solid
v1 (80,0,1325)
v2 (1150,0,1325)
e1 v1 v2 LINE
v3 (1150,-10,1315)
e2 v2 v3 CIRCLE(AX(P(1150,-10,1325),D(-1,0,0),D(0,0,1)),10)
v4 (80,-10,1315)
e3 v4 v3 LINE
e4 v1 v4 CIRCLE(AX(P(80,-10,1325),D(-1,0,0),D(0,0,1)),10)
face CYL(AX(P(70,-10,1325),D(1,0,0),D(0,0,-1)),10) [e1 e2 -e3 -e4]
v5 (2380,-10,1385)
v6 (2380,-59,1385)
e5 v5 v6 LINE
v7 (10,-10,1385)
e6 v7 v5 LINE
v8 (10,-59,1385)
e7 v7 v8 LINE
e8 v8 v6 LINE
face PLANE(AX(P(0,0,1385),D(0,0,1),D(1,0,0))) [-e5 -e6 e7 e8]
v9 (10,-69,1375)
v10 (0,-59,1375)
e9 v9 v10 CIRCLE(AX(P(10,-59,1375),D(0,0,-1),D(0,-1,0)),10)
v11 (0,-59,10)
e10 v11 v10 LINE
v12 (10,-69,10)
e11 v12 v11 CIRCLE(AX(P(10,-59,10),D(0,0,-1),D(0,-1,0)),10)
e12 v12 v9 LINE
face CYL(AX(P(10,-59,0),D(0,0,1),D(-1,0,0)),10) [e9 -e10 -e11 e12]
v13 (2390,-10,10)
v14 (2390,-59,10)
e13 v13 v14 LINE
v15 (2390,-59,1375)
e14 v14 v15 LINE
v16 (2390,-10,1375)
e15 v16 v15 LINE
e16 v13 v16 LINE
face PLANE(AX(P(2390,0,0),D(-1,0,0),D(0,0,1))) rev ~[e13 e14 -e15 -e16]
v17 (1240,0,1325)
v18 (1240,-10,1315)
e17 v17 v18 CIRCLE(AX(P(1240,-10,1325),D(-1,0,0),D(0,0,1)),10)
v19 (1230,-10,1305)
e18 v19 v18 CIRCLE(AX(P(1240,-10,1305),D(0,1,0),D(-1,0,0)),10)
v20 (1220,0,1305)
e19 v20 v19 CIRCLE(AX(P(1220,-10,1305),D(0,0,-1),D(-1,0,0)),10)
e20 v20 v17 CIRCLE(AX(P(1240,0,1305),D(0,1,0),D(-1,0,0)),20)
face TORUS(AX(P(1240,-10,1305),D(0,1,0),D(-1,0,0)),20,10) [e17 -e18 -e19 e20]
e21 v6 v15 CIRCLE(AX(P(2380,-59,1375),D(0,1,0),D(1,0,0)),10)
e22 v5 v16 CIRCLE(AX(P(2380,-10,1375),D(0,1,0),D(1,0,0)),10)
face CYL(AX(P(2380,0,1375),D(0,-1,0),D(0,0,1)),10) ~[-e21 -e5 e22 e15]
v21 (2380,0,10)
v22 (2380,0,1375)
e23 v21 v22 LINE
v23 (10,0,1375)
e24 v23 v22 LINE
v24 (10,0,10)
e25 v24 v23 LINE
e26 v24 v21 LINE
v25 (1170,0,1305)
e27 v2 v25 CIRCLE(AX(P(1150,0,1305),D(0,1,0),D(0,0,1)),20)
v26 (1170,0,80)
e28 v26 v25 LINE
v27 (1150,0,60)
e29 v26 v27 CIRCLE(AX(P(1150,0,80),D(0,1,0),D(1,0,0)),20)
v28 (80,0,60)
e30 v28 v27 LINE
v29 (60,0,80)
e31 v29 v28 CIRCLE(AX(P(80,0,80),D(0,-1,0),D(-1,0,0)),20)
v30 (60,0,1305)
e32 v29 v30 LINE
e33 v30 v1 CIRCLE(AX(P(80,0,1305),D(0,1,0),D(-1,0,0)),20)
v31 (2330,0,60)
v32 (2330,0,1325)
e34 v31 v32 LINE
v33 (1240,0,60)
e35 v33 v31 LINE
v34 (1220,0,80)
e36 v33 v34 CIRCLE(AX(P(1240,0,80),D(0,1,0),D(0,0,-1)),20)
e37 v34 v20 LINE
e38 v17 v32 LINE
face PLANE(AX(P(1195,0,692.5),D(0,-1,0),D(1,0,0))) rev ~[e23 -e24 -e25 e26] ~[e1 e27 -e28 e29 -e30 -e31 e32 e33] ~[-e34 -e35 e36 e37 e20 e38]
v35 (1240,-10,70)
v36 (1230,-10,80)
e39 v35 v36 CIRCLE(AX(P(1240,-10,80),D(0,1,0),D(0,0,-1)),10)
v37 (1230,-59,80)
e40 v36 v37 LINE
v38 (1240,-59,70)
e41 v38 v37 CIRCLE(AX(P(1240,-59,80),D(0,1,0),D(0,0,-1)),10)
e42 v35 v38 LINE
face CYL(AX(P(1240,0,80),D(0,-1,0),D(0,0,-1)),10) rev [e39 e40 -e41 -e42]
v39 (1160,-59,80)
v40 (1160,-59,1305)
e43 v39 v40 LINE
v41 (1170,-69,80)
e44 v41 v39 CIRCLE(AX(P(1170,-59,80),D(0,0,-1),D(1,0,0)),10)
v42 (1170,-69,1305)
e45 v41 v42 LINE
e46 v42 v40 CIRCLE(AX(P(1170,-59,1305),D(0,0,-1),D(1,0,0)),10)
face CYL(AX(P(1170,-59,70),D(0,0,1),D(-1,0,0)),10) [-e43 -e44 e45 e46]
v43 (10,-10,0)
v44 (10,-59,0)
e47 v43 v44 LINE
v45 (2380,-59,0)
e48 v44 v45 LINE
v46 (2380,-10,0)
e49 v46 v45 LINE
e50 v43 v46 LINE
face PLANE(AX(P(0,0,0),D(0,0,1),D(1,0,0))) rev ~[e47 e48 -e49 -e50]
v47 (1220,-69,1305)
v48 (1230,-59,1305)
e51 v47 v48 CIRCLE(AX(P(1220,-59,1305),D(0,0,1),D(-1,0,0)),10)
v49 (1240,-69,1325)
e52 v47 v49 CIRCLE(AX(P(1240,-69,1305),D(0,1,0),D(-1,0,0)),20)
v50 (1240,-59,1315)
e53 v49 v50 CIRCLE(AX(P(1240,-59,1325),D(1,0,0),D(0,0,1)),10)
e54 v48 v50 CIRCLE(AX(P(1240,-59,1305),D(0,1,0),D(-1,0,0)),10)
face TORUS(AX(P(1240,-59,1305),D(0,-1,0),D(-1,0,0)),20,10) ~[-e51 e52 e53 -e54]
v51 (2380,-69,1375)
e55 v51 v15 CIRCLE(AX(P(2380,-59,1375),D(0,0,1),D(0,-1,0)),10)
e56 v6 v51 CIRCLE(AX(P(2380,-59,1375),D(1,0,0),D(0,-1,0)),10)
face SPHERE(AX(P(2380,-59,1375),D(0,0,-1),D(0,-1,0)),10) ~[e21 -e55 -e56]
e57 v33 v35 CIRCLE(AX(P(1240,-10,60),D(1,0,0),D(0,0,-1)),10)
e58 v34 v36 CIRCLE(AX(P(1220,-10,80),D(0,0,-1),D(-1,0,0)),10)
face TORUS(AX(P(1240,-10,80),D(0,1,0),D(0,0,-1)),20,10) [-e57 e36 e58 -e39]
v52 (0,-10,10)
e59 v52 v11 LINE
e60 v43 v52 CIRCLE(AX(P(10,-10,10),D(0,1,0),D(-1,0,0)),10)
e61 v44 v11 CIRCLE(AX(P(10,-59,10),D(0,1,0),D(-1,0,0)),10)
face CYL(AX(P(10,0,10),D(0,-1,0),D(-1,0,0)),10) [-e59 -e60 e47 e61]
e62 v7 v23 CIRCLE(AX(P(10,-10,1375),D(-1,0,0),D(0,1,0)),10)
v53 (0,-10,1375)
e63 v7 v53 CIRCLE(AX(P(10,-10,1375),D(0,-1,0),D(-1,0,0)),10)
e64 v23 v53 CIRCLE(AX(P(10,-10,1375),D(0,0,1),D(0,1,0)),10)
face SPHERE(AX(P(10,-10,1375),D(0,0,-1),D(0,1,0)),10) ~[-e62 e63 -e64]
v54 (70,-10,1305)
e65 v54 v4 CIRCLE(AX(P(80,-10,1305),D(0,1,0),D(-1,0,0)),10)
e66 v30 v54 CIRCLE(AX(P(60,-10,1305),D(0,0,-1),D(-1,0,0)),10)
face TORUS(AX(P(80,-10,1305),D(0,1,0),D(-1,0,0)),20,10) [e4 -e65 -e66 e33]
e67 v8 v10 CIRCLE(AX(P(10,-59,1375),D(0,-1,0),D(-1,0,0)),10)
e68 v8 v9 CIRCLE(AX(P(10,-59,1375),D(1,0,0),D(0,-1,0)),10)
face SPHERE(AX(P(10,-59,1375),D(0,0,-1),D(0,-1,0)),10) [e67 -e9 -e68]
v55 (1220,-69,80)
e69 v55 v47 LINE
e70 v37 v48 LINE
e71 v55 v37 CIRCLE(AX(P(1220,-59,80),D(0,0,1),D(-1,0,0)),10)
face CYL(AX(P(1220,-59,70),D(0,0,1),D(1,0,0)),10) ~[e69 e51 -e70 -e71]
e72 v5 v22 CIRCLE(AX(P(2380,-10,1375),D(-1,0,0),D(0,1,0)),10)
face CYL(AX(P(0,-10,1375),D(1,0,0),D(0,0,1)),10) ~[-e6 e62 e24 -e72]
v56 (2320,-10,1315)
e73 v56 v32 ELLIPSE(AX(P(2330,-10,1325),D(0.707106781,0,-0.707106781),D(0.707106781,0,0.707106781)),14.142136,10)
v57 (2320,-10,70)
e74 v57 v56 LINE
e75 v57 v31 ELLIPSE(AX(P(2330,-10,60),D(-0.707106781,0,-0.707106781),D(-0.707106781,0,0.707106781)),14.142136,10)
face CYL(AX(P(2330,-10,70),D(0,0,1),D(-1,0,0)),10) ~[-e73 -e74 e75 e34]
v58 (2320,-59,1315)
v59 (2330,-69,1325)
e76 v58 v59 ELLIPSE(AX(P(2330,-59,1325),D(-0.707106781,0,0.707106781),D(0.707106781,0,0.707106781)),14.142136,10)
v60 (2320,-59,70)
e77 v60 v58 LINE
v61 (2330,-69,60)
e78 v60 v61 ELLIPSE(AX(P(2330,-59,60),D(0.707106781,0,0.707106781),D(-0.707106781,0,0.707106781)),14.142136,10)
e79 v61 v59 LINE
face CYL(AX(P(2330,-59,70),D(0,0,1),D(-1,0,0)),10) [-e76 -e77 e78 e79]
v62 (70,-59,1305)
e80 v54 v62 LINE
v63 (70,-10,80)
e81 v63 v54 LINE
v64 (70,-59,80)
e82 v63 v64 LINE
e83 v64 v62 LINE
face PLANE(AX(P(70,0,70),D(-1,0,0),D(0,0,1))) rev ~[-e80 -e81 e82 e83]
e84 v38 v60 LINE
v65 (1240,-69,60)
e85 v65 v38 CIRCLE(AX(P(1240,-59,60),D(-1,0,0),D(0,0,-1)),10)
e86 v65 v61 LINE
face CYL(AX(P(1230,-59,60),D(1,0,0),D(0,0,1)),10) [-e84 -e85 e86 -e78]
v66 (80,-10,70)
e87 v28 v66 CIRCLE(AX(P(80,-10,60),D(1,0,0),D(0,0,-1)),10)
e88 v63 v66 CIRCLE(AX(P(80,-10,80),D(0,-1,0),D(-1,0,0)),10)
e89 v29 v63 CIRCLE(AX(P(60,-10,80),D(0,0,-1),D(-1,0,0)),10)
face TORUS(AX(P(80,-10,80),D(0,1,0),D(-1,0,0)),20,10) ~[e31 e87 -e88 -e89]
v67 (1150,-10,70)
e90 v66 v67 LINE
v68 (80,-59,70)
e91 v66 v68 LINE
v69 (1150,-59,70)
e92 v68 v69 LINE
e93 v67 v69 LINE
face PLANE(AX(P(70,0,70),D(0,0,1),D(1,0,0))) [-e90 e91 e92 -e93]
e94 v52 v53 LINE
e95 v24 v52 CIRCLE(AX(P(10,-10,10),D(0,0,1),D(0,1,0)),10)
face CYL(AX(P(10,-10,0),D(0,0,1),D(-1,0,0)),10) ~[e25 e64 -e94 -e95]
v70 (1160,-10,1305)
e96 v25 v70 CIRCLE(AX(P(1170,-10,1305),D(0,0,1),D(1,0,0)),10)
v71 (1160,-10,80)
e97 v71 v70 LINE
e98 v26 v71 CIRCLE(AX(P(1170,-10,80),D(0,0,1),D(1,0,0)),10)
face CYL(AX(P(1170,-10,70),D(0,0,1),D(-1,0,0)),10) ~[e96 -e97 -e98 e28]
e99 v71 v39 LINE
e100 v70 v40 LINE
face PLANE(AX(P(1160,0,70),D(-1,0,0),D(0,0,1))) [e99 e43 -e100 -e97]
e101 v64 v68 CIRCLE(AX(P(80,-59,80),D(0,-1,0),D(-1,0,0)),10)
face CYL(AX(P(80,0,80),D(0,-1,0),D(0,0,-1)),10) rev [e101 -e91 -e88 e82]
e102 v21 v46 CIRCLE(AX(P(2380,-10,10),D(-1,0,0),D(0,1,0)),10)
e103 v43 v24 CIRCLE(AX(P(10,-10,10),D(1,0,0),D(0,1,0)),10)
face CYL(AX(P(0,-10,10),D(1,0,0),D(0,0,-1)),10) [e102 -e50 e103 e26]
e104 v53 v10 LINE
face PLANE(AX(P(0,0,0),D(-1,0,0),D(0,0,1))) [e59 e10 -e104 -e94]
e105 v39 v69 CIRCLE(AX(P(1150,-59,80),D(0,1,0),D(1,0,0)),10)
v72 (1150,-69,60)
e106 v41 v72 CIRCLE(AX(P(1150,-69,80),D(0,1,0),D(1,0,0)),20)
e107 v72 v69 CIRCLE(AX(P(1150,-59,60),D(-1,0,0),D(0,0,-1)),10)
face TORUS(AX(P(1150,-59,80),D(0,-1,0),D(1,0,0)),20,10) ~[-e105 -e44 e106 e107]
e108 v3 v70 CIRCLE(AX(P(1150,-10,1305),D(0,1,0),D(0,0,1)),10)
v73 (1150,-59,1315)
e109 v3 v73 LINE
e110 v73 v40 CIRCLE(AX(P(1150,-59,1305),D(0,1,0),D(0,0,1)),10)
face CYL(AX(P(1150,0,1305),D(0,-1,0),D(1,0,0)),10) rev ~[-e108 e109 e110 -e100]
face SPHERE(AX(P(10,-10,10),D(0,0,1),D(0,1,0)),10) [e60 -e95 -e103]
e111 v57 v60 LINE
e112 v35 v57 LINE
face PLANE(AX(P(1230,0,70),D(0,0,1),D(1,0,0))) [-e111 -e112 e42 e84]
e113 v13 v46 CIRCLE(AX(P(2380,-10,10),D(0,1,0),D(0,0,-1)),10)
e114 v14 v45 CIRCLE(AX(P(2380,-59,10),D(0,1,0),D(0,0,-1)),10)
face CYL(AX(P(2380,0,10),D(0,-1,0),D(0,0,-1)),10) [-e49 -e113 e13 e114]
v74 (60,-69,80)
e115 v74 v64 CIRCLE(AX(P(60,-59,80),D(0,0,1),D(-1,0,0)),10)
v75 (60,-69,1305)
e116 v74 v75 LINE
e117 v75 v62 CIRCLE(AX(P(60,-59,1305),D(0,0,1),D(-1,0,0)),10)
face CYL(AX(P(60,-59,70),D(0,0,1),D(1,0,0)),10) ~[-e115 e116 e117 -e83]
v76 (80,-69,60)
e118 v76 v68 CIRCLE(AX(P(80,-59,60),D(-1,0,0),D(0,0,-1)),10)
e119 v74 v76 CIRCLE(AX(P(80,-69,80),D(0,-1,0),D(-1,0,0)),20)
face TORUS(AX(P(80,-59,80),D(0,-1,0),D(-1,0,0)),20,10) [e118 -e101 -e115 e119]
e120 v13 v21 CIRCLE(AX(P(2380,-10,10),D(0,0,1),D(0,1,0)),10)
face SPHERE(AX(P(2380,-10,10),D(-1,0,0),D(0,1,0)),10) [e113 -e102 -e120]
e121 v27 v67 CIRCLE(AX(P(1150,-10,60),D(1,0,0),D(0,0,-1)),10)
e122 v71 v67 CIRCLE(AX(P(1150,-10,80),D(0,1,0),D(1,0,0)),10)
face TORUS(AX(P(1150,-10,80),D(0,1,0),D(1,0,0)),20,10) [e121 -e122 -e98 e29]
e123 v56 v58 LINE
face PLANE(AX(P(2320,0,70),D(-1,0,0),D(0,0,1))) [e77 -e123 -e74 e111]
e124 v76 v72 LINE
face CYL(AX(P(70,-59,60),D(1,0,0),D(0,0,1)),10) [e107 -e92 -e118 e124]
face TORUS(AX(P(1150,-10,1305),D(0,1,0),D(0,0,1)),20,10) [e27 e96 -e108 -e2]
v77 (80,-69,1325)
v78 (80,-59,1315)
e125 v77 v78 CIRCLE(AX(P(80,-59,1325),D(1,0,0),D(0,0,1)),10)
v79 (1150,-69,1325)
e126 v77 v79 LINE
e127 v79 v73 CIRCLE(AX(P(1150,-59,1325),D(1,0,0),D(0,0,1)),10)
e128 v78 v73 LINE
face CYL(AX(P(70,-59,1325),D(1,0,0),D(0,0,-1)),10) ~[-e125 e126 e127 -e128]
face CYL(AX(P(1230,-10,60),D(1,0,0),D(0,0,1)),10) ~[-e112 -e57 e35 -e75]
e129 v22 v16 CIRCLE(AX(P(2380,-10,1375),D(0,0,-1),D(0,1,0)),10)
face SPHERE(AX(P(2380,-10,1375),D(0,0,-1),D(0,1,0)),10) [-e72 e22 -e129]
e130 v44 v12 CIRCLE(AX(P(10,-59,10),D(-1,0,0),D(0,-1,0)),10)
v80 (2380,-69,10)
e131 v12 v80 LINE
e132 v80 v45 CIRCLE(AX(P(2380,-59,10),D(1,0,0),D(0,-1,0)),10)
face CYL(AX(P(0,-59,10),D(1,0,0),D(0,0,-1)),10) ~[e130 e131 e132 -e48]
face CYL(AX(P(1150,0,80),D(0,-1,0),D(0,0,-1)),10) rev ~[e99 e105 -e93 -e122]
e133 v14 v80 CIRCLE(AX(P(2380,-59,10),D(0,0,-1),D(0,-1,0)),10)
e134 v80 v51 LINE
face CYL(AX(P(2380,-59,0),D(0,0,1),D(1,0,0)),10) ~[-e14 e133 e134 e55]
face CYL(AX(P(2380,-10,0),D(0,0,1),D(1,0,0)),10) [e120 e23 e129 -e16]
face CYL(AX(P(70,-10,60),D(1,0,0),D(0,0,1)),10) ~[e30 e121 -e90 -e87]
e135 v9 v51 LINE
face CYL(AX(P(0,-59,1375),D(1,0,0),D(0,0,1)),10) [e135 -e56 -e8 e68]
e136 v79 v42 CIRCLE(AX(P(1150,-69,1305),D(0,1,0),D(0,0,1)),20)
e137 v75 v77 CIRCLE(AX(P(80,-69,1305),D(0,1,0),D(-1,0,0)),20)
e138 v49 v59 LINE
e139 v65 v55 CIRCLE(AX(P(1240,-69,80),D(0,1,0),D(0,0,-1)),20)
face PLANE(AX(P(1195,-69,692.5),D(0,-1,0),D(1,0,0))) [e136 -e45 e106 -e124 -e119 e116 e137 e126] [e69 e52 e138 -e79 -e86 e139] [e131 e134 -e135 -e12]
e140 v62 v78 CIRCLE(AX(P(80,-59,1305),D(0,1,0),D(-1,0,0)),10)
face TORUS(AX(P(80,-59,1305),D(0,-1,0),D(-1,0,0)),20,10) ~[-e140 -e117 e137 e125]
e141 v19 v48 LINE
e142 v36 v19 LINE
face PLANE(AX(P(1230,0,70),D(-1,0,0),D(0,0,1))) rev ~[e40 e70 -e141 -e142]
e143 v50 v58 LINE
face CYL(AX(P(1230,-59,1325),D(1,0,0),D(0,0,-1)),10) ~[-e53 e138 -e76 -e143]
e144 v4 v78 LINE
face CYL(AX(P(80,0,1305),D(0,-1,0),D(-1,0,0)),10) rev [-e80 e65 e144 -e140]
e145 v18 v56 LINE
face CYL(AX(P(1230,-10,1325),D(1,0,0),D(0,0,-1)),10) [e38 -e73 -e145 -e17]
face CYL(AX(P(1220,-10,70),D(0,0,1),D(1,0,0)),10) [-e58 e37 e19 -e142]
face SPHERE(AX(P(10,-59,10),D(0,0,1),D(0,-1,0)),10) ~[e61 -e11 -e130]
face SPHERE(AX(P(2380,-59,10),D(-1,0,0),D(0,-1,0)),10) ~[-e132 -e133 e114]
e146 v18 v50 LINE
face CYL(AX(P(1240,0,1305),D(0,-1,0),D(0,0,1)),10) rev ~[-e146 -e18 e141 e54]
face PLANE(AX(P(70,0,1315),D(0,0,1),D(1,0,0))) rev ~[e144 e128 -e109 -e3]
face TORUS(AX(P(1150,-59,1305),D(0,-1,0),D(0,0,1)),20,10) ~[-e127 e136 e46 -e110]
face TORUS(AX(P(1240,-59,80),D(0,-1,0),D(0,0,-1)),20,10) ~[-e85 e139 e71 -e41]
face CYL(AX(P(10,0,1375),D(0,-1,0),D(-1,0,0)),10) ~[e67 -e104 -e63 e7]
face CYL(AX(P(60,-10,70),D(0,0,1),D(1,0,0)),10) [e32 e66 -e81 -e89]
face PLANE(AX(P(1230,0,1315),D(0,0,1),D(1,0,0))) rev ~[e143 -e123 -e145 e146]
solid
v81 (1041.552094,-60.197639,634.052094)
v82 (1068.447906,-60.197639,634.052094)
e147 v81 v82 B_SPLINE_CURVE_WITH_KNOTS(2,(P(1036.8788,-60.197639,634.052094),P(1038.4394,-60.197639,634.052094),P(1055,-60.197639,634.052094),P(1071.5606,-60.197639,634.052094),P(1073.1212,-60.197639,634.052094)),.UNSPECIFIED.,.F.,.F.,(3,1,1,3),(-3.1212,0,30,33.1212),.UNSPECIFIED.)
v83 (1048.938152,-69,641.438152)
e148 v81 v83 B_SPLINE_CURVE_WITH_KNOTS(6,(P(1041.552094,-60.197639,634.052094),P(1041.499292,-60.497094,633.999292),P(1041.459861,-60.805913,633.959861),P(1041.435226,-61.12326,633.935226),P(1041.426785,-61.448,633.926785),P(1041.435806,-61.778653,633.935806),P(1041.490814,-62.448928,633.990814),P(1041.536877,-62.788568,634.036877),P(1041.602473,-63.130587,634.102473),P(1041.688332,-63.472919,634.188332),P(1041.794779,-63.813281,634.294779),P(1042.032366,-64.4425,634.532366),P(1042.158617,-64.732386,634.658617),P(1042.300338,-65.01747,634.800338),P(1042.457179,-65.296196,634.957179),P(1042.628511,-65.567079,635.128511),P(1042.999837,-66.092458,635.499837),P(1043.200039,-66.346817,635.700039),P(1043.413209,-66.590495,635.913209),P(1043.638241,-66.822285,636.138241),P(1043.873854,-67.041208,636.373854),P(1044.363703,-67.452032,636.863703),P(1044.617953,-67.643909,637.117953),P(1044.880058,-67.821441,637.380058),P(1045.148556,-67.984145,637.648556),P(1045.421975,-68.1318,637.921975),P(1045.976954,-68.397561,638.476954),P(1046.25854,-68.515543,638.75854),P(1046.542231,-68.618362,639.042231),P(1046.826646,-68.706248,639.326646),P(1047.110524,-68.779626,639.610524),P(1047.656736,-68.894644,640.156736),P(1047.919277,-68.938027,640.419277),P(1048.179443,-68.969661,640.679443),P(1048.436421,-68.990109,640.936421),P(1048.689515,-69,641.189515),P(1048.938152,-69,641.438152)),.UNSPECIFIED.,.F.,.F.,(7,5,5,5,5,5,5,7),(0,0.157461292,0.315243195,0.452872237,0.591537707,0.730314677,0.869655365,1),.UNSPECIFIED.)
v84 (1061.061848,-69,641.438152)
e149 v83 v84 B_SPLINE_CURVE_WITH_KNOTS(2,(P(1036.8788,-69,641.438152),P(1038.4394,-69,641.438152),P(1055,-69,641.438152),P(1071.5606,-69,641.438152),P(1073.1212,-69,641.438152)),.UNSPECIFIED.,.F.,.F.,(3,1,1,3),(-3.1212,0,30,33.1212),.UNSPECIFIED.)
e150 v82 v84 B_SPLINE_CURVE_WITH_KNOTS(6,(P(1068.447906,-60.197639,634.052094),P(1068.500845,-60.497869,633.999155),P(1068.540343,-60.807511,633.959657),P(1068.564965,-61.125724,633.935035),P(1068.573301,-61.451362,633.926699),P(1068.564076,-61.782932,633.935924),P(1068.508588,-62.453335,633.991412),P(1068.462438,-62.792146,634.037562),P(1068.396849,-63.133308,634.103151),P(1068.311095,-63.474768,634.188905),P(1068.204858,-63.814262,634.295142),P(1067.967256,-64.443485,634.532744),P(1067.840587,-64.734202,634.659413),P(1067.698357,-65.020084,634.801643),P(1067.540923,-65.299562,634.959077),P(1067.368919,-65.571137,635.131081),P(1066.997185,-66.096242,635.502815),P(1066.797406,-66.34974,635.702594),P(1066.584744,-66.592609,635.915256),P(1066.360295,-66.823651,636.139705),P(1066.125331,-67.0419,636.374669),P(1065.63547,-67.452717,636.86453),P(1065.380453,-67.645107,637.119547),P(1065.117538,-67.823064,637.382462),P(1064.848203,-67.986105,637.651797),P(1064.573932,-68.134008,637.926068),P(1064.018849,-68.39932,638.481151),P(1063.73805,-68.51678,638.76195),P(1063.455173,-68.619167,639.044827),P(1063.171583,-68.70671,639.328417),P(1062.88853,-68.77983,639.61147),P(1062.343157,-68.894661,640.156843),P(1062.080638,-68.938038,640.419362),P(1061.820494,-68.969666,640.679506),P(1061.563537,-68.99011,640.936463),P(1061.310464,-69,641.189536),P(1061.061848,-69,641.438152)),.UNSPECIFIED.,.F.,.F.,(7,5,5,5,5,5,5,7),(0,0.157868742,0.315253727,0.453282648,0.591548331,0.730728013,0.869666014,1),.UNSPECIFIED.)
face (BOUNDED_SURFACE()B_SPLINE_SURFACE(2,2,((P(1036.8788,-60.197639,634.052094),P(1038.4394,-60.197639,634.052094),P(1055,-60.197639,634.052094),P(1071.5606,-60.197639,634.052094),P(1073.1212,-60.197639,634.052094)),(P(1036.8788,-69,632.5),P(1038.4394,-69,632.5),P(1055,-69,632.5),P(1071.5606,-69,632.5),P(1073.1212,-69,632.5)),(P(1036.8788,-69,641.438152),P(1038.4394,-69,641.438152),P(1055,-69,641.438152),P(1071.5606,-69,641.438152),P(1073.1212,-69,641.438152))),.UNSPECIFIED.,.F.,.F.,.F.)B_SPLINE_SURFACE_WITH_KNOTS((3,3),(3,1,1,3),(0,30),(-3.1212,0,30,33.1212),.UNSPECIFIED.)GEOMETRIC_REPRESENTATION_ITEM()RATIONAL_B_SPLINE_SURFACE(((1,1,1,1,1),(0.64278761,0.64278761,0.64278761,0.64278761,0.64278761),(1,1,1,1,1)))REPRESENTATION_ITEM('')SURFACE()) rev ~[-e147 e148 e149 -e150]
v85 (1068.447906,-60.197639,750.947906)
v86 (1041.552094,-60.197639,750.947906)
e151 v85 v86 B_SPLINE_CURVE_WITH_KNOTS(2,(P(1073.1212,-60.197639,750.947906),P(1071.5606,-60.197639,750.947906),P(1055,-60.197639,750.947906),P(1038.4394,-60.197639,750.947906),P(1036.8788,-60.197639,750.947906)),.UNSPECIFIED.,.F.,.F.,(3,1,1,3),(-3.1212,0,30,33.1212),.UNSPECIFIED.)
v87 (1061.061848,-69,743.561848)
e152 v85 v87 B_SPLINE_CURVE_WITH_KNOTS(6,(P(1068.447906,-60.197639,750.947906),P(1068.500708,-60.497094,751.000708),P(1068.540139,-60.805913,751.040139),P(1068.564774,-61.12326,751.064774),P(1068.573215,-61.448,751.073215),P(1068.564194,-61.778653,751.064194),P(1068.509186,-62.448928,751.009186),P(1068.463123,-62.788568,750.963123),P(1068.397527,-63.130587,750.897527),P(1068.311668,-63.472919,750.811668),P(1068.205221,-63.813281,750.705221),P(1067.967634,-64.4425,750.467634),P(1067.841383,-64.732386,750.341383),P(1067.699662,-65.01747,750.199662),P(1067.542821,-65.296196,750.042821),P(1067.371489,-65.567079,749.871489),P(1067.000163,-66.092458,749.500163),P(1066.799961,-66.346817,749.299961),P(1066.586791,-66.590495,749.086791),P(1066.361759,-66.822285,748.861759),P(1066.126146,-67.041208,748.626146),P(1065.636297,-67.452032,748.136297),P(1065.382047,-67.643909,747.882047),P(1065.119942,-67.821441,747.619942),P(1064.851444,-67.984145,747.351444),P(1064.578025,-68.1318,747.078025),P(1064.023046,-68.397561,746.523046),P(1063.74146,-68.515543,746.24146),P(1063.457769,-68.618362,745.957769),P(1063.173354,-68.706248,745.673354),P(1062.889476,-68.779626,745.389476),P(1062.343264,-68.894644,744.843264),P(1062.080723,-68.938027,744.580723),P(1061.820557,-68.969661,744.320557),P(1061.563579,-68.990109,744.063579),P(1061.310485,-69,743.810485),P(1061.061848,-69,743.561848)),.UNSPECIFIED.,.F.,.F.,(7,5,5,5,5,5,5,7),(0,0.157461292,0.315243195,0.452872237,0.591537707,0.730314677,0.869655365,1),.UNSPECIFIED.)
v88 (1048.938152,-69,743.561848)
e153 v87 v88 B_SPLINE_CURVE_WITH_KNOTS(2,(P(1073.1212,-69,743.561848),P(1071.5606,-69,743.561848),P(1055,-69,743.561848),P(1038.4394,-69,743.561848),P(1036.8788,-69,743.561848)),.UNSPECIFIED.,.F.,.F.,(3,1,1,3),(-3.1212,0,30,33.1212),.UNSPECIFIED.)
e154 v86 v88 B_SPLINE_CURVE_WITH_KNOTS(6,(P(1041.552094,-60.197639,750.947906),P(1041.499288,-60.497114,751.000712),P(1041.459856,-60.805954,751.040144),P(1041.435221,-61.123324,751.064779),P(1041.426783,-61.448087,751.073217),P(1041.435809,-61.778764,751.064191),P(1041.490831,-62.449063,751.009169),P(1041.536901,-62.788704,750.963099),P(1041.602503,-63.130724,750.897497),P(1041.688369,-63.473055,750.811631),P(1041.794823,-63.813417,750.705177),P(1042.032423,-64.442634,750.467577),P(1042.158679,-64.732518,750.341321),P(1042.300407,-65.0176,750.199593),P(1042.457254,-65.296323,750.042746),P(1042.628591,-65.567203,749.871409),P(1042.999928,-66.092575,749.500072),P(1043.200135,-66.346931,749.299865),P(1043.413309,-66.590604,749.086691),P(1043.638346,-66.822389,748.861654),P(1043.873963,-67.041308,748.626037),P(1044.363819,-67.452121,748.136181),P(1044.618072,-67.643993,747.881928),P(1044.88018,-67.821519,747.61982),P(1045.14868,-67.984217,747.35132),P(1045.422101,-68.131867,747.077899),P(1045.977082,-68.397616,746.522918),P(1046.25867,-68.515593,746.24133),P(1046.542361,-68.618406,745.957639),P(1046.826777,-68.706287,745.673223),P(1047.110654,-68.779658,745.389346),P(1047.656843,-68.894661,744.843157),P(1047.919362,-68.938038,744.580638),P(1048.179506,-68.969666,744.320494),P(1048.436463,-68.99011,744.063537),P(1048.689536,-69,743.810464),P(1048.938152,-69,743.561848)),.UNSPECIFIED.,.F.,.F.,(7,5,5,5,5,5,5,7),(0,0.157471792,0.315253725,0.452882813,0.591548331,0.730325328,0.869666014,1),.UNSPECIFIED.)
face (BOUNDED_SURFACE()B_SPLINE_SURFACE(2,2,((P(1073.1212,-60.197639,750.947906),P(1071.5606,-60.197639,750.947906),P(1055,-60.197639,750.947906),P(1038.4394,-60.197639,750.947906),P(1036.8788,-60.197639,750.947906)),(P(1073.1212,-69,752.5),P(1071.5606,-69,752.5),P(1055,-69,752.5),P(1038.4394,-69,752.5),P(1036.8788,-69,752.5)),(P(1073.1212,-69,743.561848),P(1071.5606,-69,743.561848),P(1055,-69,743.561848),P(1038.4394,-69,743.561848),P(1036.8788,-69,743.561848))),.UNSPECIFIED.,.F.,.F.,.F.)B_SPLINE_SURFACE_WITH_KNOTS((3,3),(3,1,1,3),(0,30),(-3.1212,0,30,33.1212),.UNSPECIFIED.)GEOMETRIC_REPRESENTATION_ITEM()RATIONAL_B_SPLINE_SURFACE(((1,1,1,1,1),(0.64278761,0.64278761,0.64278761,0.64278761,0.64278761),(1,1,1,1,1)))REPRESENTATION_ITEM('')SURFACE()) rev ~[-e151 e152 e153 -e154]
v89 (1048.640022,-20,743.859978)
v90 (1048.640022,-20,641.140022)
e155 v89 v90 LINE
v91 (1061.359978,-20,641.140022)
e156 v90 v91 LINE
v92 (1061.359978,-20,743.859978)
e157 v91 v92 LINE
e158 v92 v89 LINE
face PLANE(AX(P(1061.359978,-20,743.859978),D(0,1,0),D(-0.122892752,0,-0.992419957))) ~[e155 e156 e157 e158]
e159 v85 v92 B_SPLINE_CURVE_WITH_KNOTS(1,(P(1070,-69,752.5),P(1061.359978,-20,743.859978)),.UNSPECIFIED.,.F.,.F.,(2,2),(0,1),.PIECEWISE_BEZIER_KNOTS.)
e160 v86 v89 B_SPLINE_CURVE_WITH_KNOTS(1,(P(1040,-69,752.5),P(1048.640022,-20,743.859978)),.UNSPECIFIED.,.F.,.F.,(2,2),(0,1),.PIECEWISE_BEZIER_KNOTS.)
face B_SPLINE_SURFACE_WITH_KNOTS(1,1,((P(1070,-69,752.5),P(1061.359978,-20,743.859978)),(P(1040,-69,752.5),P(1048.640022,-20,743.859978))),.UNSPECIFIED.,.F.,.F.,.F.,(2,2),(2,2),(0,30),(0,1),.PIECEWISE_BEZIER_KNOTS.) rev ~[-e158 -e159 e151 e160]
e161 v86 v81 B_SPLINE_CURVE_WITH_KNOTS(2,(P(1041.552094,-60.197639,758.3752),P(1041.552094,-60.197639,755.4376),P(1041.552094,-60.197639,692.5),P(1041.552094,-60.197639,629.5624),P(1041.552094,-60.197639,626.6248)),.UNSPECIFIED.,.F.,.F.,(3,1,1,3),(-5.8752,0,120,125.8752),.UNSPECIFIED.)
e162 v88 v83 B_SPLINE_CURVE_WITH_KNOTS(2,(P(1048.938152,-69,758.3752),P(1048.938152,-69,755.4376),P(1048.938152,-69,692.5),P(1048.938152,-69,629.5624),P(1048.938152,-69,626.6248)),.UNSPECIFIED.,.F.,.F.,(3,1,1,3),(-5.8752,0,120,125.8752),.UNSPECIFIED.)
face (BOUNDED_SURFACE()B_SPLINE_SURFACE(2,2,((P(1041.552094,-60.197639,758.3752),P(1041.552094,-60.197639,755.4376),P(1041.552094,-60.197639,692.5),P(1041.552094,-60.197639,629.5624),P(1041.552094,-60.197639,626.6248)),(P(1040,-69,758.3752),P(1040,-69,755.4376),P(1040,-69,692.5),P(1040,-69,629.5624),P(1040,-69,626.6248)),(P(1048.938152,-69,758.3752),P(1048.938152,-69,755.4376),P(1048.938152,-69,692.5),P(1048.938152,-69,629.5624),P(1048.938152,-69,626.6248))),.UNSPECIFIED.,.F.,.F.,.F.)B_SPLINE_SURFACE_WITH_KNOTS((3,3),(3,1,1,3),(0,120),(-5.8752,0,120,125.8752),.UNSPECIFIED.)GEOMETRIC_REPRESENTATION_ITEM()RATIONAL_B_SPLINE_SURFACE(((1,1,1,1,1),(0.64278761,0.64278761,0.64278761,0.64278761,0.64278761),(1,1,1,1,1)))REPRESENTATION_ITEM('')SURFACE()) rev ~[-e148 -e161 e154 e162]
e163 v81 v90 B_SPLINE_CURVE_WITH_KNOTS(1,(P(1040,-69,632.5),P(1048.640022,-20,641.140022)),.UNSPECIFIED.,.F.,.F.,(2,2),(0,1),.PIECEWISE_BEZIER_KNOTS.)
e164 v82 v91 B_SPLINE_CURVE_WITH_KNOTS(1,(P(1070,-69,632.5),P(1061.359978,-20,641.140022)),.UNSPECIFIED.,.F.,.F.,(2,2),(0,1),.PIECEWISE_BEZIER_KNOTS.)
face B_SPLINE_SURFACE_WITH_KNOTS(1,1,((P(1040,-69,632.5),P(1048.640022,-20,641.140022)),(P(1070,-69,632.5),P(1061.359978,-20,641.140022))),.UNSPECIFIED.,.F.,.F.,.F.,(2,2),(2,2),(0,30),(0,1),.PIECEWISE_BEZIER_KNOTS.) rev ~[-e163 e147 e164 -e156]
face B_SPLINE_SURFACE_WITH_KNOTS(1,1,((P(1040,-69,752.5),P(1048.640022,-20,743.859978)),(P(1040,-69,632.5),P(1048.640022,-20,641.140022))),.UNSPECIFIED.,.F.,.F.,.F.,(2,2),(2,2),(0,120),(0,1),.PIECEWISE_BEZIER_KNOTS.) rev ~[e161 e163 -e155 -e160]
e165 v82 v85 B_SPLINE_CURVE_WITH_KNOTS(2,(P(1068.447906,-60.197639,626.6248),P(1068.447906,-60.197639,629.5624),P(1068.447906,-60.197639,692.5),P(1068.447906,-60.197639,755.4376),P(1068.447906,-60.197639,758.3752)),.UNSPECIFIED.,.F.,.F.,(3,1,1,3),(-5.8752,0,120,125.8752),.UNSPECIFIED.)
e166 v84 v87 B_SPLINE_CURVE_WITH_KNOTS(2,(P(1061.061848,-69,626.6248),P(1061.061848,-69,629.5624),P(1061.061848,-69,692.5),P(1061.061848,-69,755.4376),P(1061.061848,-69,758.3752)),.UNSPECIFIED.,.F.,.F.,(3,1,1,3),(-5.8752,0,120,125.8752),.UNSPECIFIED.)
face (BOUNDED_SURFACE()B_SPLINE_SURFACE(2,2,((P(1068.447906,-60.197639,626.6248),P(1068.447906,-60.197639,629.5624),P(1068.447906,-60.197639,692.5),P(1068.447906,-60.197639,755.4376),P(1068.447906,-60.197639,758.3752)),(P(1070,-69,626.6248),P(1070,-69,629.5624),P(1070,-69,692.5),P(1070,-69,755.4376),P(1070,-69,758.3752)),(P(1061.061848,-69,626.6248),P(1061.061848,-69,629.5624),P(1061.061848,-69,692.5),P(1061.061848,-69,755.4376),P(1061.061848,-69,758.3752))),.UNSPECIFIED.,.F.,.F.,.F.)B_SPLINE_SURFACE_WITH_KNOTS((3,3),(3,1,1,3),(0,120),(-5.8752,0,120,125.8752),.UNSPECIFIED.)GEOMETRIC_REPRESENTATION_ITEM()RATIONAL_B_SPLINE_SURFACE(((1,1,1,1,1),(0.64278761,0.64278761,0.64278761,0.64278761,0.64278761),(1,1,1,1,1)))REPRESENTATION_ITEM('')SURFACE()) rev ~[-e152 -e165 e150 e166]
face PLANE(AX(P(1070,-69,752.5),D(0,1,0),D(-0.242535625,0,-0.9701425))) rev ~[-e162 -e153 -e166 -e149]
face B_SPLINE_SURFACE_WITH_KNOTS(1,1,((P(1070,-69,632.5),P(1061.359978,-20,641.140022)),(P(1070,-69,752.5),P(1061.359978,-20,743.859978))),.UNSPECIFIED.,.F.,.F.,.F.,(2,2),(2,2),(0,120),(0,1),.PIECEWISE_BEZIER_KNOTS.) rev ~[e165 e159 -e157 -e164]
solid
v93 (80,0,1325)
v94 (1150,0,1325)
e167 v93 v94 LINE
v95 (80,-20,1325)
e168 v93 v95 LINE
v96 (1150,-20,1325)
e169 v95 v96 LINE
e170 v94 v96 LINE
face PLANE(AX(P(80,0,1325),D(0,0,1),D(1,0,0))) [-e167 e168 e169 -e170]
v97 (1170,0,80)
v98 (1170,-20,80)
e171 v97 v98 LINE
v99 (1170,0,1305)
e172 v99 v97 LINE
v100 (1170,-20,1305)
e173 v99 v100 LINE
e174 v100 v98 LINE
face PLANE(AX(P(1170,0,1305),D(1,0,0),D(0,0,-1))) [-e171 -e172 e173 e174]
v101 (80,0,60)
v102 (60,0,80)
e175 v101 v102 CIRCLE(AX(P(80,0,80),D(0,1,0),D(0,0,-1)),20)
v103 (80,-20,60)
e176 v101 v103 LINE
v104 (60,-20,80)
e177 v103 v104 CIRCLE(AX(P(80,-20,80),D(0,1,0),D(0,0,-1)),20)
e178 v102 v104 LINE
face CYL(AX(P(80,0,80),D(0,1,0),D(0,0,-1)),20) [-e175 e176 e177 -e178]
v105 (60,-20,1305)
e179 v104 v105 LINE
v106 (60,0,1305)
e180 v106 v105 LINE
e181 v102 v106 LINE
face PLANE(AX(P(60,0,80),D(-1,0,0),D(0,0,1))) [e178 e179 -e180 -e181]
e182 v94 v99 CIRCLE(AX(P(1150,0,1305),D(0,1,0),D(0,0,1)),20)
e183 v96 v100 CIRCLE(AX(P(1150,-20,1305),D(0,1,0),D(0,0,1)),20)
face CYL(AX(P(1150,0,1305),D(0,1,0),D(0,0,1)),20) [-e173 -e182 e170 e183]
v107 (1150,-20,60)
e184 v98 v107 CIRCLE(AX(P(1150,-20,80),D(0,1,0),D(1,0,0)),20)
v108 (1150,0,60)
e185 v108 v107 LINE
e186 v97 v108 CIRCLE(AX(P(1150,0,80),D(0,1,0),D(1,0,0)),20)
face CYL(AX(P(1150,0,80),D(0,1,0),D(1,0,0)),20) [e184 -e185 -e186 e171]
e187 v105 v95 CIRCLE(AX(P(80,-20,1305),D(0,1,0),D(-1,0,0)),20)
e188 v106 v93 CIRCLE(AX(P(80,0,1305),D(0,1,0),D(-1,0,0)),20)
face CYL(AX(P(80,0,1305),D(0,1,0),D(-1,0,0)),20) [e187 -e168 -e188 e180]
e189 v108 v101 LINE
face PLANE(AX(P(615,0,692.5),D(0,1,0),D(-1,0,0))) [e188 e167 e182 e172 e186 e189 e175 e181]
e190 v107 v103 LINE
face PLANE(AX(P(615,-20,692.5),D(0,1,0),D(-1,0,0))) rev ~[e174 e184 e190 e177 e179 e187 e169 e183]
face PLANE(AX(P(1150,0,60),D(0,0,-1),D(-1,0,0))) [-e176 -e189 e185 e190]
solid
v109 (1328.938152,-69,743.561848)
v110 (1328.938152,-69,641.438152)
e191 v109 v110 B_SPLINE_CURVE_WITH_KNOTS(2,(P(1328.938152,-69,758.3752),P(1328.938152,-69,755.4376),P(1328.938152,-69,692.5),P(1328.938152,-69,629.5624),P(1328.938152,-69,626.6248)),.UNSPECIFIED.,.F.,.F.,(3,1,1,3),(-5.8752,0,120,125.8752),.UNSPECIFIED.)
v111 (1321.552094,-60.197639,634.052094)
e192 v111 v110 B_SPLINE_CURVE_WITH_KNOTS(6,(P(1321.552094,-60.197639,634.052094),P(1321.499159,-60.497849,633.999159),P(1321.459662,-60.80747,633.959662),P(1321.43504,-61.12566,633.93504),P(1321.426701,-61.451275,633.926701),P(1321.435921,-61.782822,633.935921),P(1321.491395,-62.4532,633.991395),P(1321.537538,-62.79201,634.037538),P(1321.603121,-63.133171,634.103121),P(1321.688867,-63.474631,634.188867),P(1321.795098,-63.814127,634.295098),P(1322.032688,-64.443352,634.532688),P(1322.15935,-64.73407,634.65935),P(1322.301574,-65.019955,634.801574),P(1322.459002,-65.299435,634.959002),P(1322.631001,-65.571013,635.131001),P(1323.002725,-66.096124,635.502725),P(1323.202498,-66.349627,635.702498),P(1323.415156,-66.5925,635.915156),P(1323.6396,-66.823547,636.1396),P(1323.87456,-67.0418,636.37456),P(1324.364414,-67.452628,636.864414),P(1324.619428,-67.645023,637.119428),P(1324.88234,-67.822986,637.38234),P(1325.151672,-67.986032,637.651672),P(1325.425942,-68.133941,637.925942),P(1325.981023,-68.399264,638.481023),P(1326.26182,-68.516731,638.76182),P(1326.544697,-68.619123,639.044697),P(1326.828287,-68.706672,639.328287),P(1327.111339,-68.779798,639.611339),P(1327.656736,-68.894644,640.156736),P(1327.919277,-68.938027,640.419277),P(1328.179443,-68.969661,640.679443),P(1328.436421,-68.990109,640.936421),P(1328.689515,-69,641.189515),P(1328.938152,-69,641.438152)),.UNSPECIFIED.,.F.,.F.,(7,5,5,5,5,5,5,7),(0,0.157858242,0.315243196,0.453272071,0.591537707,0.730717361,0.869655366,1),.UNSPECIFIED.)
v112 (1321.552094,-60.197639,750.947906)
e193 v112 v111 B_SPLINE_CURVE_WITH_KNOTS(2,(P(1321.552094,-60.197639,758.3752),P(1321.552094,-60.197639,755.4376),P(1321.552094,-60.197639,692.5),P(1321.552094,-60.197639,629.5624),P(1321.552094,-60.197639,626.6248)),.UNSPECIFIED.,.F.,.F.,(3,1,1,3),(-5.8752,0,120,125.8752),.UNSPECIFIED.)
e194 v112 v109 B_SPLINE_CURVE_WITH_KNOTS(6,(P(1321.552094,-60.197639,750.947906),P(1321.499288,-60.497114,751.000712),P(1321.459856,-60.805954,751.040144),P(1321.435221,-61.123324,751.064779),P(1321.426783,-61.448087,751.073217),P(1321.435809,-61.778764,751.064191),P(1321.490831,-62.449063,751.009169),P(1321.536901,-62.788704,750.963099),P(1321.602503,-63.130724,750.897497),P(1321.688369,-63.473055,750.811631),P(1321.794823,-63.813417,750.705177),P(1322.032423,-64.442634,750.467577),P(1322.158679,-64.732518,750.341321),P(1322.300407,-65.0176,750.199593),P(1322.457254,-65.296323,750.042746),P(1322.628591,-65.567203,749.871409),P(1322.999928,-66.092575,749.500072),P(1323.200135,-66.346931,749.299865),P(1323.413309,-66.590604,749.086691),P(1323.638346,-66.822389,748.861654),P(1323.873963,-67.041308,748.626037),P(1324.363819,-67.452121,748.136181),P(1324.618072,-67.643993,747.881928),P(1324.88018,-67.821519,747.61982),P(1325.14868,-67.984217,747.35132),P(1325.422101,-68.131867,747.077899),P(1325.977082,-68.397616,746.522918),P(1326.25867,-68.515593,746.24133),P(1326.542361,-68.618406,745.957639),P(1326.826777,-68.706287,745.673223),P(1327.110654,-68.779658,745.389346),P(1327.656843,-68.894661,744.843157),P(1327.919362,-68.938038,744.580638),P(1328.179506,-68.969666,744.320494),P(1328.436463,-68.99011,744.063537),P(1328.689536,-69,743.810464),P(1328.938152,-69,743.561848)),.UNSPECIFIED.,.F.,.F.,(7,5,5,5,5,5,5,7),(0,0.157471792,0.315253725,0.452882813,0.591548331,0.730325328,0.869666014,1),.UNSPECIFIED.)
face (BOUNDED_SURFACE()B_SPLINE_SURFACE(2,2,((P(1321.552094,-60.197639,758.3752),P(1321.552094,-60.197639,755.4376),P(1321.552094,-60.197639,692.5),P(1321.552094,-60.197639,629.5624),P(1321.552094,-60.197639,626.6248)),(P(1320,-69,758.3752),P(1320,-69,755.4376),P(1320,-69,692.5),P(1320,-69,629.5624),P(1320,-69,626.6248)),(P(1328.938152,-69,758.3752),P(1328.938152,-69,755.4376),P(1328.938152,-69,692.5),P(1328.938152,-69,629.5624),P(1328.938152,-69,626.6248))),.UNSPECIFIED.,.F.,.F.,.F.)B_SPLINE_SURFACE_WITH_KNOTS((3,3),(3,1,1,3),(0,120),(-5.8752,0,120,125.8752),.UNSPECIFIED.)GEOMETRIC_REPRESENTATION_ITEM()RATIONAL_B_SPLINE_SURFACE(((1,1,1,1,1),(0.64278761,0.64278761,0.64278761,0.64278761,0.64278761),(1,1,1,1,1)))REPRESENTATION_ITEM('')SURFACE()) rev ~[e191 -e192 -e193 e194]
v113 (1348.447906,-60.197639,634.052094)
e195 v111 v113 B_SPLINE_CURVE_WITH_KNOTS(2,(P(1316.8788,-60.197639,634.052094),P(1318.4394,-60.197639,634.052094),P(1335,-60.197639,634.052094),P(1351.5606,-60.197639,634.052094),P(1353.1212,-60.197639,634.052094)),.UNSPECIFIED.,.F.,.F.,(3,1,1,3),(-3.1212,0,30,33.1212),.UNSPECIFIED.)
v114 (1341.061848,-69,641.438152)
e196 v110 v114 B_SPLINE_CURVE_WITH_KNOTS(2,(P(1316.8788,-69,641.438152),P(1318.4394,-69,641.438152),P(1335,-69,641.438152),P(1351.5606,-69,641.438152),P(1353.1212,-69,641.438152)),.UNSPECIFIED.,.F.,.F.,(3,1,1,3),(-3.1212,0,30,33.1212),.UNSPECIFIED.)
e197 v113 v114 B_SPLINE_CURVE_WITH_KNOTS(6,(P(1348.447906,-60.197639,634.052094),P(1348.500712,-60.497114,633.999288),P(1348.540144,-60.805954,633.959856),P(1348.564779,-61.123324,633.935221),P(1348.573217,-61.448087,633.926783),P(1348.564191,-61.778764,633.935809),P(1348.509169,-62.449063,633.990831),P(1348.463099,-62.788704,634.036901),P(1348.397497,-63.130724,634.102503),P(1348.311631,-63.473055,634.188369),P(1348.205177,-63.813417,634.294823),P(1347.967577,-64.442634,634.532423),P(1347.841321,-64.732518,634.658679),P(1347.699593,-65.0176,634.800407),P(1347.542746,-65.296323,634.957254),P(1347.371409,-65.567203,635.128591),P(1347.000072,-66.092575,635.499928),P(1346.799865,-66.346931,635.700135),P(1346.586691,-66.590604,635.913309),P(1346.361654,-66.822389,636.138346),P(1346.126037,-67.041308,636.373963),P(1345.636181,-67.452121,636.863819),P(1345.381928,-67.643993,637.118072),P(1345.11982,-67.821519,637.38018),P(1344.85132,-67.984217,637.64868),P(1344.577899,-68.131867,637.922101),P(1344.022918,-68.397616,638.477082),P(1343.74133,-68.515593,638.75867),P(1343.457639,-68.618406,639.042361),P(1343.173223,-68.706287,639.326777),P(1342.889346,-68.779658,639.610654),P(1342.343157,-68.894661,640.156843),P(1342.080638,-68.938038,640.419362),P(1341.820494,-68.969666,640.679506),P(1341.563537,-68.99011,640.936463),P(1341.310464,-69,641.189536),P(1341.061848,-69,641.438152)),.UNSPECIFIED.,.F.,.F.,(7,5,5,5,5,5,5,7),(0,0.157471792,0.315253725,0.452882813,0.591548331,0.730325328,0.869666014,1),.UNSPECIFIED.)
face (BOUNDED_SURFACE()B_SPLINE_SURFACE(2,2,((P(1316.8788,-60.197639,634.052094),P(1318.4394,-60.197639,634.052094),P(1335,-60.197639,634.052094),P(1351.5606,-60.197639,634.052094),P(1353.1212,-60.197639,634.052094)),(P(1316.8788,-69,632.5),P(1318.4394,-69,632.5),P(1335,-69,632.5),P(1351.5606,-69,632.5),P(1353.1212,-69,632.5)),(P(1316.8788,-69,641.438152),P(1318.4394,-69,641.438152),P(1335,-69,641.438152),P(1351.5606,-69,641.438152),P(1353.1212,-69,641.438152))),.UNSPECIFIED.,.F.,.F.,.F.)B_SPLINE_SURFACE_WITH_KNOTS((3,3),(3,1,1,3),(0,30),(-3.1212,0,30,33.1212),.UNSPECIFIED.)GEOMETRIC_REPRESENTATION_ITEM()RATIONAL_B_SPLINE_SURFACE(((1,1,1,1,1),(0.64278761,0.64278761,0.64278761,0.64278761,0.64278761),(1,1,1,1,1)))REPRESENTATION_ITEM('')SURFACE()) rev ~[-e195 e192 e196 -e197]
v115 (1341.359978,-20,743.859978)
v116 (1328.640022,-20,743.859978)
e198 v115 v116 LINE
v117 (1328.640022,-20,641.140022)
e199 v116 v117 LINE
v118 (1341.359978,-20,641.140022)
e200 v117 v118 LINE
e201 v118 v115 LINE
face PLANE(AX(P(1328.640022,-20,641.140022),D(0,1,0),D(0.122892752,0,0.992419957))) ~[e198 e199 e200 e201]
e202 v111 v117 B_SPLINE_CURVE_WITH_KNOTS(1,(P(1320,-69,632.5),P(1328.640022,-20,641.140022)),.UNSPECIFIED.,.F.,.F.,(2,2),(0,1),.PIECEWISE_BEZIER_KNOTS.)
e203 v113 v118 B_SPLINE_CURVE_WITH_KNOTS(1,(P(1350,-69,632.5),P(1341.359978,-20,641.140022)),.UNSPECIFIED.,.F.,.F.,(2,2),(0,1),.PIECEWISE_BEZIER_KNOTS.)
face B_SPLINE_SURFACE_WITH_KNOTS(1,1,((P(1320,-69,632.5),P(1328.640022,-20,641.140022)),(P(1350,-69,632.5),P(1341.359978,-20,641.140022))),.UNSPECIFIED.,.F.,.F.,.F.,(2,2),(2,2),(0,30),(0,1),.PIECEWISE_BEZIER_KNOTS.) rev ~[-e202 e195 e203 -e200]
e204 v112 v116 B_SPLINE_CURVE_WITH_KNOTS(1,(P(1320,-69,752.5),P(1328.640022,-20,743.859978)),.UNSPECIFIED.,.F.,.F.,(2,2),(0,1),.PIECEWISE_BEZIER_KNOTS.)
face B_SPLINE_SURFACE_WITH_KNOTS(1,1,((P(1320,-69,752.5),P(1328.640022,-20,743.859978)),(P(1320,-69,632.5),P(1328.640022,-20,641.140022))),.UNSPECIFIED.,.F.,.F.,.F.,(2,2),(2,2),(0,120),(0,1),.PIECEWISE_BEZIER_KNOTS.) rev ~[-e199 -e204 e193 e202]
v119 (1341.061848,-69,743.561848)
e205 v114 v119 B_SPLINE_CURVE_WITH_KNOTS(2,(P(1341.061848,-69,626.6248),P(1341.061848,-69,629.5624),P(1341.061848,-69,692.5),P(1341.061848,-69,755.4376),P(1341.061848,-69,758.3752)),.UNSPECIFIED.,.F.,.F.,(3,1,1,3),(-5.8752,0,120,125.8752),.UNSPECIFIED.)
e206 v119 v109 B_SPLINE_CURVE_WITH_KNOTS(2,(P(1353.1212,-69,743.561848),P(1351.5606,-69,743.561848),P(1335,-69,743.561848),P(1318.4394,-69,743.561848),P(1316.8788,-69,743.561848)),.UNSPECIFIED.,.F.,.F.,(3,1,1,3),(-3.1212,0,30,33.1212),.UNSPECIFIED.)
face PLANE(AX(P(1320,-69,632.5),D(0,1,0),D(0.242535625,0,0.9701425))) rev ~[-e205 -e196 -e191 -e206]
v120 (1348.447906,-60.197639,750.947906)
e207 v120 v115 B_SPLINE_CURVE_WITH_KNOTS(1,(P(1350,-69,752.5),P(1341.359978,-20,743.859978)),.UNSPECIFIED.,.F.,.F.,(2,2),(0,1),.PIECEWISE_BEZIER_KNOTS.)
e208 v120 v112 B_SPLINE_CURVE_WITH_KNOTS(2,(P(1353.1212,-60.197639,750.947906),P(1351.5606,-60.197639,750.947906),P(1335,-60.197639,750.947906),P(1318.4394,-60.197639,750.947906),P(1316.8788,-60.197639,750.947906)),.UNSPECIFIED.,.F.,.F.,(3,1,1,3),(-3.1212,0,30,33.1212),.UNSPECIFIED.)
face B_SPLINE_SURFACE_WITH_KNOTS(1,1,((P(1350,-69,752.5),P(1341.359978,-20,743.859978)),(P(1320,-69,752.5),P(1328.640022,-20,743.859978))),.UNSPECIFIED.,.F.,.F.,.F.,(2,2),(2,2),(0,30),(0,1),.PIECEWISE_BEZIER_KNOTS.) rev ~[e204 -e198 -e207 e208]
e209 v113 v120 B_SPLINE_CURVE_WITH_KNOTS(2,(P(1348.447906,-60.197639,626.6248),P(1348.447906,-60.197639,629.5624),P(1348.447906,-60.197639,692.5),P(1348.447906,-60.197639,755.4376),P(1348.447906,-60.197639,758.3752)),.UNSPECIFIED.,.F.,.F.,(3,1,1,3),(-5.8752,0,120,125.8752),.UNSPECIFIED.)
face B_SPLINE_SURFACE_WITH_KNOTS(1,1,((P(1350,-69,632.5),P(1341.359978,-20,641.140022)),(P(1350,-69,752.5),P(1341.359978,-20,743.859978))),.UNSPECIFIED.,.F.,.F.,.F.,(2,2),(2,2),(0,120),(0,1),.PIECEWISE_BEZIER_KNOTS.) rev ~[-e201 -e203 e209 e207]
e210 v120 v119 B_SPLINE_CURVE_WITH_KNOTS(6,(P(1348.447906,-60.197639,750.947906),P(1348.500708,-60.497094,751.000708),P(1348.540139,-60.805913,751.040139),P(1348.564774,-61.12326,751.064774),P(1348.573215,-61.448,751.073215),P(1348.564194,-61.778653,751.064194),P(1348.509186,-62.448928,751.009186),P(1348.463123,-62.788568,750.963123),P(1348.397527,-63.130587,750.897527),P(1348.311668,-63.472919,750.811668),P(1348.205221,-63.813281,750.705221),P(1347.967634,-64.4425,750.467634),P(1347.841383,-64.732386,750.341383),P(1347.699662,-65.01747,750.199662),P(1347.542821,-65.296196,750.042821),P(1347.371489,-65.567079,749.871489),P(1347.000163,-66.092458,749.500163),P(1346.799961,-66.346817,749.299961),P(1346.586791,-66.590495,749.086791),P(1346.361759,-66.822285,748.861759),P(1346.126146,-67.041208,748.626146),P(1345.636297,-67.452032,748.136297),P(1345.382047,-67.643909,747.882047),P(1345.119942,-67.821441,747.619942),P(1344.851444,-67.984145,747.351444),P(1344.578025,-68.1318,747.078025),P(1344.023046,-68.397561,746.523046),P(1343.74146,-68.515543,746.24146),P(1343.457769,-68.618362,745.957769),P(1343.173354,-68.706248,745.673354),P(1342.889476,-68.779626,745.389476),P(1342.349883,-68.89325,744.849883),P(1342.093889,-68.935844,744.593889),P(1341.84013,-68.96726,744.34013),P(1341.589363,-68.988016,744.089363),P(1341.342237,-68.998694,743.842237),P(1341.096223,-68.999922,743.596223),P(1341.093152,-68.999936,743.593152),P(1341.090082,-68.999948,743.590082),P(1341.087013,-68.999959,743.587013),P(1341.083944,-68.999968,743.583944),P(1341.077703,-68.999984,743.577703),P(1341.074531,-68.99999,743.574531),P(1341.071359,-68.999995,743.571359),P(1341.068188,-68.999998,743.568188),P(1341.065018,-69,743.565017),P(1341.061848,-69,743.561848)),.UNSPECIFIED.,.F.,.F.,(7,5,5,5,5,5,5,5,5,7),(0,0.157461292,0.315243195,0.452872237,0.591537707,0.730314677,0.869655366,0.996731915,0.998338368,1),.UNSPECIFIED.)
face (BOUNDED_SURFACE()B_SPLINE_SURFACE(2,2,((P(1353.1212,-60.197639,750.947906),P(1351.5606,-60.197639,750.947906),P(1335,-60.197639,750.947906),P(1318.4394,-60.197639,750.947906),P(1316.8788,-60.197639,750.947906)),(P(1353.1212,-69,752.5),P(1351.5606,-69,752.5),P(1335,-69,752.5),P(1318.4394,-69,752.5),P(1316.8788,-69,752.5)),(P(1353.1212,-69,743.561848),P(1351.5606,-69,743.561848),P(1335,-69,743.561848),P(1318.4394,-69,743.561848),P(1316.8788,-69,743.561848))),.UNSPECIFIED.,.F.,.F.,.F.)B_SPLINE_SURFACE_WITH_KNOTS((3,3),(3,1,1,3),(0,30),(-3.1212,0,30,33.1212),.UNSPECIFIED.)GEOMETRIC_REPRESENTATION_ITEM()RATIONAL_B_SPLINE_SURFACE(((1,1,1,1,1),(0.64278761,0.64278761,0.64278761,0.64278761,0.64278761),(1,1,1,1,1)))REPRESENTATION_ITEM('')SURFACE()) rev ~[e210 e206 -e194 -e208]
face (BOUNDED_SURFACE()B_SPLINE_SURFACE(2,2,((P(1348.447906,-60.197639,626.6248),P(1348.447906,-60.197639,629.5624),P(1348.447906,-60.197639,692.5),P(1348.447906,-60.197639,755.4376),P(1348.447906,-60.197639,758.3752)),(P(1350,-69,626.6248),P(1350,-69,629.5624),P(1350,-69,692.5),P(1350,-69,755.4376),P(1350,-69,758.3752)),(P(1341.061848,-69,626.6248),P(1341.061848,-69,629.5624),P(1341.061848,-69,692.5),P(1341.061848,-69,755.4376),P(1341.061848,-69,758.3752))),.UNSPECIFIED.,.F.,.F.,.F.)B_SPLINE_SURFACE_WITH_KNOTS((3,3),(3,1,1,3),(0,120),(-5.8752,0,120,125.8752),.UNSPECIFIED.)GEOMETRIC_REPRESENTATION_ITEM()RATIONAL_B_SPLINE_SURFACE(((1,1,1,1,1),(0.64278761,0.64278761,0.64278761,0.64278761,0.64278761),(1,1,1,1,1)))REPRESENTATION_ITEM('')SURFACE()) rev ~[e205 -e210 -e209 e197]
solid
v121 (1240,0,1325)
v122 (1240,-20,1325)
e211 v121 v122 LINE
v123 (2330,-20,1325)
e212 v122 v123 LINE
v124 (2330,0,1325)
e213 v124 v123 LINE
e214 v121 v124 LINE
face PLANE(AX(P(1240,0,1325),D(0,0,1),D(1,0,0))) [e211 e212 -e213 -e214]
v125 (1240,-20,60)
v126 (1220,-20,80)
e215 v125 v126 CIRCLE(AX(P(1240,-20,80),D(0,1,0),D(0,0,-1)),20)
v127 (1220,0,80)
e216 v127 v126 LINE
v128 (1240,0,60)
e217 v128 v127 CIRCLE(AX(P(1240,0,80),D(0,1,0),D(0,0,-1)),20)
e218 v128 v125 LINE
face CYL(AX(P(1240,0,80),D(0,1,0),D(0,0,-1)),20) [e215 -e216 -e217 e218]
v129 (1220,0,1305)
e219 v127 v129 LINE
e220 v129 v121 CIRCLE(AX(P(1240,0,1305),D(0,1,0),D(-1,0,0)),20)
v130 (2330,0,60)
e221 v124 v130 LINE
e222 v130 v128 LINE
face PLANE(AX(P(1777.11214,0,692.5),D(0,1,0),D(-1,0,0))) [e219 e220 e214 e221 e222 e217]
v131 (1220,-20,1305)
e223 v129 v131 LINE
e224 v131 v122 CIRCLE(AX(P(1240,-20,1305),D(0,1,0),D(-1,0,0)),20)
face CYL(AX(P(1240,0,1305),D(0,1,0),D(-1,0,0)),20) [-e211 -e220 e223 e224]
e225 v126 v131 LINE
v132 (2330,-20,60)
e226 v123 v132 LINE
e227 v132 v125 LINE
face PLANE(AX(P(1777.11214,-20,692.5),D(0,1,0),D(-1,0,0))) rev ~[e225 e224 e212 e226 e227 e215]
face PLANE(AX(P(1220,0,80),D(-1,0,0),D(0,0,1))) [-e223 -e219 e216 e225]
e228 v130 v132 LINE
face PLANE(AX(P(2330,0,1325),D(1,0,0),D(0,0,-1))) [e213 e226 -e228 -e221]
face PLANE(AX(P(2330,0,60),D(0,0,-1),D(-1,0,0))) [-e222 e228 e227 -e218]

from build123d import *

# Parameters (mm, degrees)
F0_W     = 2390
F0_H     = 1385
F0_W_2   = 1090
F0_H_2   = 1245
F1_DEPTH = 69
F2_R     = 10
F5_DEPTH = 20
F7_DEPTH = 49
F7_TAPER = 10
F8_R     = 7.5
F8_2_R   = 7.5


with BuildPart() as f1:
    # F0 (on Front) → F1 (new body)
    with BuildSketch(Plane.XZ):
        with Locations((1195, 692.5)):
            Rectangle(F0_W, F0_H)
        with Locations((615, 692.5)):
            Rectangle(F0_W_2, F0_H_2, mode=Mode.SUBTRACT)
        with Locations((1775, 692.5)):
            Rectangle(F0_W_2, F0_H_2, mode=Mode.SUBTRACT)
    extrude(amount=F1_DEPTH)

    # F2
    f2_edges = [f1.edges().sort_by_distance(p)[0] for p in [
        (0, -69, 692.5),
        (1195, -69, 0),
        (2390, -69, 692.5),
        (1195, -69, 1385),
        (70, -69, 692.5),
        (615, -69, 1315),
        (1160, -69, 692.5),
        (615, -69, 70),
        (2320, -69, 692.5),
        (1775, -69, 70),
        (1230, -69, 692.5),
        (1775, -69, 1315),
        (0, 0, 692.5),
        (1195, 0, 0),
        (2390, 0, 692.5),
        (1195, 0, 1385),
        (70, 0, 692.5),
        (615, 0, 1315),
        (1160, 0, 692.5),
        (615, 0, 70),
        (2320, 0, 692.5),
        (1775, 0, 70),
        (1230, 0, 692.5),
        (1775, 0, 1315),
        (2390, -34.5, 1385),
        (0, -34.5, 1385),
        (2390, -34.5, 0),
        (1160, -34.5, 70),
        (70, -34.5, 70),
        (1230, -34.5, 70),
        (1230, -34.5, 1315),
        (0, -34.5, 0),
        (1160, -34.5, 1315),
        (70, -34.5, 1315),
    ]]
    fillet(f2_edges, radius=F2_R)


with BuildPart() as f5:
    # F4 (on face) → F5 (new body)
    with BuildSketch(Plane(origin=(0, 0, 0), x_dir=(-1, 0, 0), z_dir=(0, 1, 0))):
        with BuildLine():
            Line((-2330, 1325), (-2330, 60))
            Line((-2330, 60), (-1240, 60))
            ThreePointArc((-1240, 60), (-1225.8578643763, 65.8578643763), (-1220, 80))
            Line((-1220, 80), (-1220, 1305))
            ThreePointArc((-1220, 1305), (-1225.8578643763, 1319.1421356237), (-1240, 1325))
            Line((-1240, 1325), (-2330, 1325))
        make_face()
    extrude(amount=-F5_DEPTH)


with BuildPart() as f5b:
    # F4 (on face) → F5, piece 2 (new body)
    with BuildSketch(Plane(origin=(0, 0, 0), x_dir=(-1, 0, 0), z_dir=(0, 1, 0))):
        with BuildLine():
            Line((-80, 1325), (-1150, 1325))
            ThreePointArc((-1150, 1325), (-1164.1421356237, 1319.1421356237), (-1170, 1305))
            Line((-1170, 1305), (-1170, 80))
            ThreePointArc((-1170, 80), (-1164.1421356237, 65.8578643763), (-1150, 60))
            Line((-1150, 60), (-80, 60))
            ThreePointArc((-80, 60), (-65.8578643763, 65.8578643763), (-60, 80))
            Line((-60, 80), (-60, 1305))
            ThreePointArc((-60, 1305), (-65.8578643763, 1319.1421356237), (-80, 1325))
        make_face()
    extrude(amount=-F5_DEPTH)


with BuildPart() as f7:
    # F6 (on face) → F7 (new body, through all)
    with BuildSketch(Plane.XZ.offset(69)):
        Polygon((1070, 692.5), (1070, 752.5), (1040, 752.5), (1040, 632.5), (1070, 632.5), align=None)
    extrude(amount=-F7_DEPTH, taper=F7_TAPER)

    # F8#2
    f8_2_edges = [f7.edges().sort_by_distance(p)[0] for p in [
        (1070, -69, 692.5),
        (1055, -69, 752.5),
        (1040, -69, 692.5),
        (1055, -69, 632.5),
    ]]
    fillet(f8_2_edges, radius=F8_2_R)


with BuildPart() as f7b:
    # F6 (on face) → F7, piece 2 (new body, through all)
    with BuildSketch(Plane.XZ.offset(69)):
        Polygon((1320, 632.5), (1350, 632.5), (1350, 752.5), (1320, 752.5), (1320, 692.5), align=None)
    extrude(amount=-F7_DEPTH, taper=F7_TAPER)

    # F8
    f8_edges = [f7b.edges().sort_by_distance(p)[0] for p in [
        (1335, -69, 632.5),
        (1350, -69, 692.5),
        (1335, -69, 752.5),
        (1320, -69, 692.5),
    ]]
    fillet(f8_edges, radius=F8_R)


solid = Compound([f1.part, f5.part, f5b.part, f7.part, f7b.part])
